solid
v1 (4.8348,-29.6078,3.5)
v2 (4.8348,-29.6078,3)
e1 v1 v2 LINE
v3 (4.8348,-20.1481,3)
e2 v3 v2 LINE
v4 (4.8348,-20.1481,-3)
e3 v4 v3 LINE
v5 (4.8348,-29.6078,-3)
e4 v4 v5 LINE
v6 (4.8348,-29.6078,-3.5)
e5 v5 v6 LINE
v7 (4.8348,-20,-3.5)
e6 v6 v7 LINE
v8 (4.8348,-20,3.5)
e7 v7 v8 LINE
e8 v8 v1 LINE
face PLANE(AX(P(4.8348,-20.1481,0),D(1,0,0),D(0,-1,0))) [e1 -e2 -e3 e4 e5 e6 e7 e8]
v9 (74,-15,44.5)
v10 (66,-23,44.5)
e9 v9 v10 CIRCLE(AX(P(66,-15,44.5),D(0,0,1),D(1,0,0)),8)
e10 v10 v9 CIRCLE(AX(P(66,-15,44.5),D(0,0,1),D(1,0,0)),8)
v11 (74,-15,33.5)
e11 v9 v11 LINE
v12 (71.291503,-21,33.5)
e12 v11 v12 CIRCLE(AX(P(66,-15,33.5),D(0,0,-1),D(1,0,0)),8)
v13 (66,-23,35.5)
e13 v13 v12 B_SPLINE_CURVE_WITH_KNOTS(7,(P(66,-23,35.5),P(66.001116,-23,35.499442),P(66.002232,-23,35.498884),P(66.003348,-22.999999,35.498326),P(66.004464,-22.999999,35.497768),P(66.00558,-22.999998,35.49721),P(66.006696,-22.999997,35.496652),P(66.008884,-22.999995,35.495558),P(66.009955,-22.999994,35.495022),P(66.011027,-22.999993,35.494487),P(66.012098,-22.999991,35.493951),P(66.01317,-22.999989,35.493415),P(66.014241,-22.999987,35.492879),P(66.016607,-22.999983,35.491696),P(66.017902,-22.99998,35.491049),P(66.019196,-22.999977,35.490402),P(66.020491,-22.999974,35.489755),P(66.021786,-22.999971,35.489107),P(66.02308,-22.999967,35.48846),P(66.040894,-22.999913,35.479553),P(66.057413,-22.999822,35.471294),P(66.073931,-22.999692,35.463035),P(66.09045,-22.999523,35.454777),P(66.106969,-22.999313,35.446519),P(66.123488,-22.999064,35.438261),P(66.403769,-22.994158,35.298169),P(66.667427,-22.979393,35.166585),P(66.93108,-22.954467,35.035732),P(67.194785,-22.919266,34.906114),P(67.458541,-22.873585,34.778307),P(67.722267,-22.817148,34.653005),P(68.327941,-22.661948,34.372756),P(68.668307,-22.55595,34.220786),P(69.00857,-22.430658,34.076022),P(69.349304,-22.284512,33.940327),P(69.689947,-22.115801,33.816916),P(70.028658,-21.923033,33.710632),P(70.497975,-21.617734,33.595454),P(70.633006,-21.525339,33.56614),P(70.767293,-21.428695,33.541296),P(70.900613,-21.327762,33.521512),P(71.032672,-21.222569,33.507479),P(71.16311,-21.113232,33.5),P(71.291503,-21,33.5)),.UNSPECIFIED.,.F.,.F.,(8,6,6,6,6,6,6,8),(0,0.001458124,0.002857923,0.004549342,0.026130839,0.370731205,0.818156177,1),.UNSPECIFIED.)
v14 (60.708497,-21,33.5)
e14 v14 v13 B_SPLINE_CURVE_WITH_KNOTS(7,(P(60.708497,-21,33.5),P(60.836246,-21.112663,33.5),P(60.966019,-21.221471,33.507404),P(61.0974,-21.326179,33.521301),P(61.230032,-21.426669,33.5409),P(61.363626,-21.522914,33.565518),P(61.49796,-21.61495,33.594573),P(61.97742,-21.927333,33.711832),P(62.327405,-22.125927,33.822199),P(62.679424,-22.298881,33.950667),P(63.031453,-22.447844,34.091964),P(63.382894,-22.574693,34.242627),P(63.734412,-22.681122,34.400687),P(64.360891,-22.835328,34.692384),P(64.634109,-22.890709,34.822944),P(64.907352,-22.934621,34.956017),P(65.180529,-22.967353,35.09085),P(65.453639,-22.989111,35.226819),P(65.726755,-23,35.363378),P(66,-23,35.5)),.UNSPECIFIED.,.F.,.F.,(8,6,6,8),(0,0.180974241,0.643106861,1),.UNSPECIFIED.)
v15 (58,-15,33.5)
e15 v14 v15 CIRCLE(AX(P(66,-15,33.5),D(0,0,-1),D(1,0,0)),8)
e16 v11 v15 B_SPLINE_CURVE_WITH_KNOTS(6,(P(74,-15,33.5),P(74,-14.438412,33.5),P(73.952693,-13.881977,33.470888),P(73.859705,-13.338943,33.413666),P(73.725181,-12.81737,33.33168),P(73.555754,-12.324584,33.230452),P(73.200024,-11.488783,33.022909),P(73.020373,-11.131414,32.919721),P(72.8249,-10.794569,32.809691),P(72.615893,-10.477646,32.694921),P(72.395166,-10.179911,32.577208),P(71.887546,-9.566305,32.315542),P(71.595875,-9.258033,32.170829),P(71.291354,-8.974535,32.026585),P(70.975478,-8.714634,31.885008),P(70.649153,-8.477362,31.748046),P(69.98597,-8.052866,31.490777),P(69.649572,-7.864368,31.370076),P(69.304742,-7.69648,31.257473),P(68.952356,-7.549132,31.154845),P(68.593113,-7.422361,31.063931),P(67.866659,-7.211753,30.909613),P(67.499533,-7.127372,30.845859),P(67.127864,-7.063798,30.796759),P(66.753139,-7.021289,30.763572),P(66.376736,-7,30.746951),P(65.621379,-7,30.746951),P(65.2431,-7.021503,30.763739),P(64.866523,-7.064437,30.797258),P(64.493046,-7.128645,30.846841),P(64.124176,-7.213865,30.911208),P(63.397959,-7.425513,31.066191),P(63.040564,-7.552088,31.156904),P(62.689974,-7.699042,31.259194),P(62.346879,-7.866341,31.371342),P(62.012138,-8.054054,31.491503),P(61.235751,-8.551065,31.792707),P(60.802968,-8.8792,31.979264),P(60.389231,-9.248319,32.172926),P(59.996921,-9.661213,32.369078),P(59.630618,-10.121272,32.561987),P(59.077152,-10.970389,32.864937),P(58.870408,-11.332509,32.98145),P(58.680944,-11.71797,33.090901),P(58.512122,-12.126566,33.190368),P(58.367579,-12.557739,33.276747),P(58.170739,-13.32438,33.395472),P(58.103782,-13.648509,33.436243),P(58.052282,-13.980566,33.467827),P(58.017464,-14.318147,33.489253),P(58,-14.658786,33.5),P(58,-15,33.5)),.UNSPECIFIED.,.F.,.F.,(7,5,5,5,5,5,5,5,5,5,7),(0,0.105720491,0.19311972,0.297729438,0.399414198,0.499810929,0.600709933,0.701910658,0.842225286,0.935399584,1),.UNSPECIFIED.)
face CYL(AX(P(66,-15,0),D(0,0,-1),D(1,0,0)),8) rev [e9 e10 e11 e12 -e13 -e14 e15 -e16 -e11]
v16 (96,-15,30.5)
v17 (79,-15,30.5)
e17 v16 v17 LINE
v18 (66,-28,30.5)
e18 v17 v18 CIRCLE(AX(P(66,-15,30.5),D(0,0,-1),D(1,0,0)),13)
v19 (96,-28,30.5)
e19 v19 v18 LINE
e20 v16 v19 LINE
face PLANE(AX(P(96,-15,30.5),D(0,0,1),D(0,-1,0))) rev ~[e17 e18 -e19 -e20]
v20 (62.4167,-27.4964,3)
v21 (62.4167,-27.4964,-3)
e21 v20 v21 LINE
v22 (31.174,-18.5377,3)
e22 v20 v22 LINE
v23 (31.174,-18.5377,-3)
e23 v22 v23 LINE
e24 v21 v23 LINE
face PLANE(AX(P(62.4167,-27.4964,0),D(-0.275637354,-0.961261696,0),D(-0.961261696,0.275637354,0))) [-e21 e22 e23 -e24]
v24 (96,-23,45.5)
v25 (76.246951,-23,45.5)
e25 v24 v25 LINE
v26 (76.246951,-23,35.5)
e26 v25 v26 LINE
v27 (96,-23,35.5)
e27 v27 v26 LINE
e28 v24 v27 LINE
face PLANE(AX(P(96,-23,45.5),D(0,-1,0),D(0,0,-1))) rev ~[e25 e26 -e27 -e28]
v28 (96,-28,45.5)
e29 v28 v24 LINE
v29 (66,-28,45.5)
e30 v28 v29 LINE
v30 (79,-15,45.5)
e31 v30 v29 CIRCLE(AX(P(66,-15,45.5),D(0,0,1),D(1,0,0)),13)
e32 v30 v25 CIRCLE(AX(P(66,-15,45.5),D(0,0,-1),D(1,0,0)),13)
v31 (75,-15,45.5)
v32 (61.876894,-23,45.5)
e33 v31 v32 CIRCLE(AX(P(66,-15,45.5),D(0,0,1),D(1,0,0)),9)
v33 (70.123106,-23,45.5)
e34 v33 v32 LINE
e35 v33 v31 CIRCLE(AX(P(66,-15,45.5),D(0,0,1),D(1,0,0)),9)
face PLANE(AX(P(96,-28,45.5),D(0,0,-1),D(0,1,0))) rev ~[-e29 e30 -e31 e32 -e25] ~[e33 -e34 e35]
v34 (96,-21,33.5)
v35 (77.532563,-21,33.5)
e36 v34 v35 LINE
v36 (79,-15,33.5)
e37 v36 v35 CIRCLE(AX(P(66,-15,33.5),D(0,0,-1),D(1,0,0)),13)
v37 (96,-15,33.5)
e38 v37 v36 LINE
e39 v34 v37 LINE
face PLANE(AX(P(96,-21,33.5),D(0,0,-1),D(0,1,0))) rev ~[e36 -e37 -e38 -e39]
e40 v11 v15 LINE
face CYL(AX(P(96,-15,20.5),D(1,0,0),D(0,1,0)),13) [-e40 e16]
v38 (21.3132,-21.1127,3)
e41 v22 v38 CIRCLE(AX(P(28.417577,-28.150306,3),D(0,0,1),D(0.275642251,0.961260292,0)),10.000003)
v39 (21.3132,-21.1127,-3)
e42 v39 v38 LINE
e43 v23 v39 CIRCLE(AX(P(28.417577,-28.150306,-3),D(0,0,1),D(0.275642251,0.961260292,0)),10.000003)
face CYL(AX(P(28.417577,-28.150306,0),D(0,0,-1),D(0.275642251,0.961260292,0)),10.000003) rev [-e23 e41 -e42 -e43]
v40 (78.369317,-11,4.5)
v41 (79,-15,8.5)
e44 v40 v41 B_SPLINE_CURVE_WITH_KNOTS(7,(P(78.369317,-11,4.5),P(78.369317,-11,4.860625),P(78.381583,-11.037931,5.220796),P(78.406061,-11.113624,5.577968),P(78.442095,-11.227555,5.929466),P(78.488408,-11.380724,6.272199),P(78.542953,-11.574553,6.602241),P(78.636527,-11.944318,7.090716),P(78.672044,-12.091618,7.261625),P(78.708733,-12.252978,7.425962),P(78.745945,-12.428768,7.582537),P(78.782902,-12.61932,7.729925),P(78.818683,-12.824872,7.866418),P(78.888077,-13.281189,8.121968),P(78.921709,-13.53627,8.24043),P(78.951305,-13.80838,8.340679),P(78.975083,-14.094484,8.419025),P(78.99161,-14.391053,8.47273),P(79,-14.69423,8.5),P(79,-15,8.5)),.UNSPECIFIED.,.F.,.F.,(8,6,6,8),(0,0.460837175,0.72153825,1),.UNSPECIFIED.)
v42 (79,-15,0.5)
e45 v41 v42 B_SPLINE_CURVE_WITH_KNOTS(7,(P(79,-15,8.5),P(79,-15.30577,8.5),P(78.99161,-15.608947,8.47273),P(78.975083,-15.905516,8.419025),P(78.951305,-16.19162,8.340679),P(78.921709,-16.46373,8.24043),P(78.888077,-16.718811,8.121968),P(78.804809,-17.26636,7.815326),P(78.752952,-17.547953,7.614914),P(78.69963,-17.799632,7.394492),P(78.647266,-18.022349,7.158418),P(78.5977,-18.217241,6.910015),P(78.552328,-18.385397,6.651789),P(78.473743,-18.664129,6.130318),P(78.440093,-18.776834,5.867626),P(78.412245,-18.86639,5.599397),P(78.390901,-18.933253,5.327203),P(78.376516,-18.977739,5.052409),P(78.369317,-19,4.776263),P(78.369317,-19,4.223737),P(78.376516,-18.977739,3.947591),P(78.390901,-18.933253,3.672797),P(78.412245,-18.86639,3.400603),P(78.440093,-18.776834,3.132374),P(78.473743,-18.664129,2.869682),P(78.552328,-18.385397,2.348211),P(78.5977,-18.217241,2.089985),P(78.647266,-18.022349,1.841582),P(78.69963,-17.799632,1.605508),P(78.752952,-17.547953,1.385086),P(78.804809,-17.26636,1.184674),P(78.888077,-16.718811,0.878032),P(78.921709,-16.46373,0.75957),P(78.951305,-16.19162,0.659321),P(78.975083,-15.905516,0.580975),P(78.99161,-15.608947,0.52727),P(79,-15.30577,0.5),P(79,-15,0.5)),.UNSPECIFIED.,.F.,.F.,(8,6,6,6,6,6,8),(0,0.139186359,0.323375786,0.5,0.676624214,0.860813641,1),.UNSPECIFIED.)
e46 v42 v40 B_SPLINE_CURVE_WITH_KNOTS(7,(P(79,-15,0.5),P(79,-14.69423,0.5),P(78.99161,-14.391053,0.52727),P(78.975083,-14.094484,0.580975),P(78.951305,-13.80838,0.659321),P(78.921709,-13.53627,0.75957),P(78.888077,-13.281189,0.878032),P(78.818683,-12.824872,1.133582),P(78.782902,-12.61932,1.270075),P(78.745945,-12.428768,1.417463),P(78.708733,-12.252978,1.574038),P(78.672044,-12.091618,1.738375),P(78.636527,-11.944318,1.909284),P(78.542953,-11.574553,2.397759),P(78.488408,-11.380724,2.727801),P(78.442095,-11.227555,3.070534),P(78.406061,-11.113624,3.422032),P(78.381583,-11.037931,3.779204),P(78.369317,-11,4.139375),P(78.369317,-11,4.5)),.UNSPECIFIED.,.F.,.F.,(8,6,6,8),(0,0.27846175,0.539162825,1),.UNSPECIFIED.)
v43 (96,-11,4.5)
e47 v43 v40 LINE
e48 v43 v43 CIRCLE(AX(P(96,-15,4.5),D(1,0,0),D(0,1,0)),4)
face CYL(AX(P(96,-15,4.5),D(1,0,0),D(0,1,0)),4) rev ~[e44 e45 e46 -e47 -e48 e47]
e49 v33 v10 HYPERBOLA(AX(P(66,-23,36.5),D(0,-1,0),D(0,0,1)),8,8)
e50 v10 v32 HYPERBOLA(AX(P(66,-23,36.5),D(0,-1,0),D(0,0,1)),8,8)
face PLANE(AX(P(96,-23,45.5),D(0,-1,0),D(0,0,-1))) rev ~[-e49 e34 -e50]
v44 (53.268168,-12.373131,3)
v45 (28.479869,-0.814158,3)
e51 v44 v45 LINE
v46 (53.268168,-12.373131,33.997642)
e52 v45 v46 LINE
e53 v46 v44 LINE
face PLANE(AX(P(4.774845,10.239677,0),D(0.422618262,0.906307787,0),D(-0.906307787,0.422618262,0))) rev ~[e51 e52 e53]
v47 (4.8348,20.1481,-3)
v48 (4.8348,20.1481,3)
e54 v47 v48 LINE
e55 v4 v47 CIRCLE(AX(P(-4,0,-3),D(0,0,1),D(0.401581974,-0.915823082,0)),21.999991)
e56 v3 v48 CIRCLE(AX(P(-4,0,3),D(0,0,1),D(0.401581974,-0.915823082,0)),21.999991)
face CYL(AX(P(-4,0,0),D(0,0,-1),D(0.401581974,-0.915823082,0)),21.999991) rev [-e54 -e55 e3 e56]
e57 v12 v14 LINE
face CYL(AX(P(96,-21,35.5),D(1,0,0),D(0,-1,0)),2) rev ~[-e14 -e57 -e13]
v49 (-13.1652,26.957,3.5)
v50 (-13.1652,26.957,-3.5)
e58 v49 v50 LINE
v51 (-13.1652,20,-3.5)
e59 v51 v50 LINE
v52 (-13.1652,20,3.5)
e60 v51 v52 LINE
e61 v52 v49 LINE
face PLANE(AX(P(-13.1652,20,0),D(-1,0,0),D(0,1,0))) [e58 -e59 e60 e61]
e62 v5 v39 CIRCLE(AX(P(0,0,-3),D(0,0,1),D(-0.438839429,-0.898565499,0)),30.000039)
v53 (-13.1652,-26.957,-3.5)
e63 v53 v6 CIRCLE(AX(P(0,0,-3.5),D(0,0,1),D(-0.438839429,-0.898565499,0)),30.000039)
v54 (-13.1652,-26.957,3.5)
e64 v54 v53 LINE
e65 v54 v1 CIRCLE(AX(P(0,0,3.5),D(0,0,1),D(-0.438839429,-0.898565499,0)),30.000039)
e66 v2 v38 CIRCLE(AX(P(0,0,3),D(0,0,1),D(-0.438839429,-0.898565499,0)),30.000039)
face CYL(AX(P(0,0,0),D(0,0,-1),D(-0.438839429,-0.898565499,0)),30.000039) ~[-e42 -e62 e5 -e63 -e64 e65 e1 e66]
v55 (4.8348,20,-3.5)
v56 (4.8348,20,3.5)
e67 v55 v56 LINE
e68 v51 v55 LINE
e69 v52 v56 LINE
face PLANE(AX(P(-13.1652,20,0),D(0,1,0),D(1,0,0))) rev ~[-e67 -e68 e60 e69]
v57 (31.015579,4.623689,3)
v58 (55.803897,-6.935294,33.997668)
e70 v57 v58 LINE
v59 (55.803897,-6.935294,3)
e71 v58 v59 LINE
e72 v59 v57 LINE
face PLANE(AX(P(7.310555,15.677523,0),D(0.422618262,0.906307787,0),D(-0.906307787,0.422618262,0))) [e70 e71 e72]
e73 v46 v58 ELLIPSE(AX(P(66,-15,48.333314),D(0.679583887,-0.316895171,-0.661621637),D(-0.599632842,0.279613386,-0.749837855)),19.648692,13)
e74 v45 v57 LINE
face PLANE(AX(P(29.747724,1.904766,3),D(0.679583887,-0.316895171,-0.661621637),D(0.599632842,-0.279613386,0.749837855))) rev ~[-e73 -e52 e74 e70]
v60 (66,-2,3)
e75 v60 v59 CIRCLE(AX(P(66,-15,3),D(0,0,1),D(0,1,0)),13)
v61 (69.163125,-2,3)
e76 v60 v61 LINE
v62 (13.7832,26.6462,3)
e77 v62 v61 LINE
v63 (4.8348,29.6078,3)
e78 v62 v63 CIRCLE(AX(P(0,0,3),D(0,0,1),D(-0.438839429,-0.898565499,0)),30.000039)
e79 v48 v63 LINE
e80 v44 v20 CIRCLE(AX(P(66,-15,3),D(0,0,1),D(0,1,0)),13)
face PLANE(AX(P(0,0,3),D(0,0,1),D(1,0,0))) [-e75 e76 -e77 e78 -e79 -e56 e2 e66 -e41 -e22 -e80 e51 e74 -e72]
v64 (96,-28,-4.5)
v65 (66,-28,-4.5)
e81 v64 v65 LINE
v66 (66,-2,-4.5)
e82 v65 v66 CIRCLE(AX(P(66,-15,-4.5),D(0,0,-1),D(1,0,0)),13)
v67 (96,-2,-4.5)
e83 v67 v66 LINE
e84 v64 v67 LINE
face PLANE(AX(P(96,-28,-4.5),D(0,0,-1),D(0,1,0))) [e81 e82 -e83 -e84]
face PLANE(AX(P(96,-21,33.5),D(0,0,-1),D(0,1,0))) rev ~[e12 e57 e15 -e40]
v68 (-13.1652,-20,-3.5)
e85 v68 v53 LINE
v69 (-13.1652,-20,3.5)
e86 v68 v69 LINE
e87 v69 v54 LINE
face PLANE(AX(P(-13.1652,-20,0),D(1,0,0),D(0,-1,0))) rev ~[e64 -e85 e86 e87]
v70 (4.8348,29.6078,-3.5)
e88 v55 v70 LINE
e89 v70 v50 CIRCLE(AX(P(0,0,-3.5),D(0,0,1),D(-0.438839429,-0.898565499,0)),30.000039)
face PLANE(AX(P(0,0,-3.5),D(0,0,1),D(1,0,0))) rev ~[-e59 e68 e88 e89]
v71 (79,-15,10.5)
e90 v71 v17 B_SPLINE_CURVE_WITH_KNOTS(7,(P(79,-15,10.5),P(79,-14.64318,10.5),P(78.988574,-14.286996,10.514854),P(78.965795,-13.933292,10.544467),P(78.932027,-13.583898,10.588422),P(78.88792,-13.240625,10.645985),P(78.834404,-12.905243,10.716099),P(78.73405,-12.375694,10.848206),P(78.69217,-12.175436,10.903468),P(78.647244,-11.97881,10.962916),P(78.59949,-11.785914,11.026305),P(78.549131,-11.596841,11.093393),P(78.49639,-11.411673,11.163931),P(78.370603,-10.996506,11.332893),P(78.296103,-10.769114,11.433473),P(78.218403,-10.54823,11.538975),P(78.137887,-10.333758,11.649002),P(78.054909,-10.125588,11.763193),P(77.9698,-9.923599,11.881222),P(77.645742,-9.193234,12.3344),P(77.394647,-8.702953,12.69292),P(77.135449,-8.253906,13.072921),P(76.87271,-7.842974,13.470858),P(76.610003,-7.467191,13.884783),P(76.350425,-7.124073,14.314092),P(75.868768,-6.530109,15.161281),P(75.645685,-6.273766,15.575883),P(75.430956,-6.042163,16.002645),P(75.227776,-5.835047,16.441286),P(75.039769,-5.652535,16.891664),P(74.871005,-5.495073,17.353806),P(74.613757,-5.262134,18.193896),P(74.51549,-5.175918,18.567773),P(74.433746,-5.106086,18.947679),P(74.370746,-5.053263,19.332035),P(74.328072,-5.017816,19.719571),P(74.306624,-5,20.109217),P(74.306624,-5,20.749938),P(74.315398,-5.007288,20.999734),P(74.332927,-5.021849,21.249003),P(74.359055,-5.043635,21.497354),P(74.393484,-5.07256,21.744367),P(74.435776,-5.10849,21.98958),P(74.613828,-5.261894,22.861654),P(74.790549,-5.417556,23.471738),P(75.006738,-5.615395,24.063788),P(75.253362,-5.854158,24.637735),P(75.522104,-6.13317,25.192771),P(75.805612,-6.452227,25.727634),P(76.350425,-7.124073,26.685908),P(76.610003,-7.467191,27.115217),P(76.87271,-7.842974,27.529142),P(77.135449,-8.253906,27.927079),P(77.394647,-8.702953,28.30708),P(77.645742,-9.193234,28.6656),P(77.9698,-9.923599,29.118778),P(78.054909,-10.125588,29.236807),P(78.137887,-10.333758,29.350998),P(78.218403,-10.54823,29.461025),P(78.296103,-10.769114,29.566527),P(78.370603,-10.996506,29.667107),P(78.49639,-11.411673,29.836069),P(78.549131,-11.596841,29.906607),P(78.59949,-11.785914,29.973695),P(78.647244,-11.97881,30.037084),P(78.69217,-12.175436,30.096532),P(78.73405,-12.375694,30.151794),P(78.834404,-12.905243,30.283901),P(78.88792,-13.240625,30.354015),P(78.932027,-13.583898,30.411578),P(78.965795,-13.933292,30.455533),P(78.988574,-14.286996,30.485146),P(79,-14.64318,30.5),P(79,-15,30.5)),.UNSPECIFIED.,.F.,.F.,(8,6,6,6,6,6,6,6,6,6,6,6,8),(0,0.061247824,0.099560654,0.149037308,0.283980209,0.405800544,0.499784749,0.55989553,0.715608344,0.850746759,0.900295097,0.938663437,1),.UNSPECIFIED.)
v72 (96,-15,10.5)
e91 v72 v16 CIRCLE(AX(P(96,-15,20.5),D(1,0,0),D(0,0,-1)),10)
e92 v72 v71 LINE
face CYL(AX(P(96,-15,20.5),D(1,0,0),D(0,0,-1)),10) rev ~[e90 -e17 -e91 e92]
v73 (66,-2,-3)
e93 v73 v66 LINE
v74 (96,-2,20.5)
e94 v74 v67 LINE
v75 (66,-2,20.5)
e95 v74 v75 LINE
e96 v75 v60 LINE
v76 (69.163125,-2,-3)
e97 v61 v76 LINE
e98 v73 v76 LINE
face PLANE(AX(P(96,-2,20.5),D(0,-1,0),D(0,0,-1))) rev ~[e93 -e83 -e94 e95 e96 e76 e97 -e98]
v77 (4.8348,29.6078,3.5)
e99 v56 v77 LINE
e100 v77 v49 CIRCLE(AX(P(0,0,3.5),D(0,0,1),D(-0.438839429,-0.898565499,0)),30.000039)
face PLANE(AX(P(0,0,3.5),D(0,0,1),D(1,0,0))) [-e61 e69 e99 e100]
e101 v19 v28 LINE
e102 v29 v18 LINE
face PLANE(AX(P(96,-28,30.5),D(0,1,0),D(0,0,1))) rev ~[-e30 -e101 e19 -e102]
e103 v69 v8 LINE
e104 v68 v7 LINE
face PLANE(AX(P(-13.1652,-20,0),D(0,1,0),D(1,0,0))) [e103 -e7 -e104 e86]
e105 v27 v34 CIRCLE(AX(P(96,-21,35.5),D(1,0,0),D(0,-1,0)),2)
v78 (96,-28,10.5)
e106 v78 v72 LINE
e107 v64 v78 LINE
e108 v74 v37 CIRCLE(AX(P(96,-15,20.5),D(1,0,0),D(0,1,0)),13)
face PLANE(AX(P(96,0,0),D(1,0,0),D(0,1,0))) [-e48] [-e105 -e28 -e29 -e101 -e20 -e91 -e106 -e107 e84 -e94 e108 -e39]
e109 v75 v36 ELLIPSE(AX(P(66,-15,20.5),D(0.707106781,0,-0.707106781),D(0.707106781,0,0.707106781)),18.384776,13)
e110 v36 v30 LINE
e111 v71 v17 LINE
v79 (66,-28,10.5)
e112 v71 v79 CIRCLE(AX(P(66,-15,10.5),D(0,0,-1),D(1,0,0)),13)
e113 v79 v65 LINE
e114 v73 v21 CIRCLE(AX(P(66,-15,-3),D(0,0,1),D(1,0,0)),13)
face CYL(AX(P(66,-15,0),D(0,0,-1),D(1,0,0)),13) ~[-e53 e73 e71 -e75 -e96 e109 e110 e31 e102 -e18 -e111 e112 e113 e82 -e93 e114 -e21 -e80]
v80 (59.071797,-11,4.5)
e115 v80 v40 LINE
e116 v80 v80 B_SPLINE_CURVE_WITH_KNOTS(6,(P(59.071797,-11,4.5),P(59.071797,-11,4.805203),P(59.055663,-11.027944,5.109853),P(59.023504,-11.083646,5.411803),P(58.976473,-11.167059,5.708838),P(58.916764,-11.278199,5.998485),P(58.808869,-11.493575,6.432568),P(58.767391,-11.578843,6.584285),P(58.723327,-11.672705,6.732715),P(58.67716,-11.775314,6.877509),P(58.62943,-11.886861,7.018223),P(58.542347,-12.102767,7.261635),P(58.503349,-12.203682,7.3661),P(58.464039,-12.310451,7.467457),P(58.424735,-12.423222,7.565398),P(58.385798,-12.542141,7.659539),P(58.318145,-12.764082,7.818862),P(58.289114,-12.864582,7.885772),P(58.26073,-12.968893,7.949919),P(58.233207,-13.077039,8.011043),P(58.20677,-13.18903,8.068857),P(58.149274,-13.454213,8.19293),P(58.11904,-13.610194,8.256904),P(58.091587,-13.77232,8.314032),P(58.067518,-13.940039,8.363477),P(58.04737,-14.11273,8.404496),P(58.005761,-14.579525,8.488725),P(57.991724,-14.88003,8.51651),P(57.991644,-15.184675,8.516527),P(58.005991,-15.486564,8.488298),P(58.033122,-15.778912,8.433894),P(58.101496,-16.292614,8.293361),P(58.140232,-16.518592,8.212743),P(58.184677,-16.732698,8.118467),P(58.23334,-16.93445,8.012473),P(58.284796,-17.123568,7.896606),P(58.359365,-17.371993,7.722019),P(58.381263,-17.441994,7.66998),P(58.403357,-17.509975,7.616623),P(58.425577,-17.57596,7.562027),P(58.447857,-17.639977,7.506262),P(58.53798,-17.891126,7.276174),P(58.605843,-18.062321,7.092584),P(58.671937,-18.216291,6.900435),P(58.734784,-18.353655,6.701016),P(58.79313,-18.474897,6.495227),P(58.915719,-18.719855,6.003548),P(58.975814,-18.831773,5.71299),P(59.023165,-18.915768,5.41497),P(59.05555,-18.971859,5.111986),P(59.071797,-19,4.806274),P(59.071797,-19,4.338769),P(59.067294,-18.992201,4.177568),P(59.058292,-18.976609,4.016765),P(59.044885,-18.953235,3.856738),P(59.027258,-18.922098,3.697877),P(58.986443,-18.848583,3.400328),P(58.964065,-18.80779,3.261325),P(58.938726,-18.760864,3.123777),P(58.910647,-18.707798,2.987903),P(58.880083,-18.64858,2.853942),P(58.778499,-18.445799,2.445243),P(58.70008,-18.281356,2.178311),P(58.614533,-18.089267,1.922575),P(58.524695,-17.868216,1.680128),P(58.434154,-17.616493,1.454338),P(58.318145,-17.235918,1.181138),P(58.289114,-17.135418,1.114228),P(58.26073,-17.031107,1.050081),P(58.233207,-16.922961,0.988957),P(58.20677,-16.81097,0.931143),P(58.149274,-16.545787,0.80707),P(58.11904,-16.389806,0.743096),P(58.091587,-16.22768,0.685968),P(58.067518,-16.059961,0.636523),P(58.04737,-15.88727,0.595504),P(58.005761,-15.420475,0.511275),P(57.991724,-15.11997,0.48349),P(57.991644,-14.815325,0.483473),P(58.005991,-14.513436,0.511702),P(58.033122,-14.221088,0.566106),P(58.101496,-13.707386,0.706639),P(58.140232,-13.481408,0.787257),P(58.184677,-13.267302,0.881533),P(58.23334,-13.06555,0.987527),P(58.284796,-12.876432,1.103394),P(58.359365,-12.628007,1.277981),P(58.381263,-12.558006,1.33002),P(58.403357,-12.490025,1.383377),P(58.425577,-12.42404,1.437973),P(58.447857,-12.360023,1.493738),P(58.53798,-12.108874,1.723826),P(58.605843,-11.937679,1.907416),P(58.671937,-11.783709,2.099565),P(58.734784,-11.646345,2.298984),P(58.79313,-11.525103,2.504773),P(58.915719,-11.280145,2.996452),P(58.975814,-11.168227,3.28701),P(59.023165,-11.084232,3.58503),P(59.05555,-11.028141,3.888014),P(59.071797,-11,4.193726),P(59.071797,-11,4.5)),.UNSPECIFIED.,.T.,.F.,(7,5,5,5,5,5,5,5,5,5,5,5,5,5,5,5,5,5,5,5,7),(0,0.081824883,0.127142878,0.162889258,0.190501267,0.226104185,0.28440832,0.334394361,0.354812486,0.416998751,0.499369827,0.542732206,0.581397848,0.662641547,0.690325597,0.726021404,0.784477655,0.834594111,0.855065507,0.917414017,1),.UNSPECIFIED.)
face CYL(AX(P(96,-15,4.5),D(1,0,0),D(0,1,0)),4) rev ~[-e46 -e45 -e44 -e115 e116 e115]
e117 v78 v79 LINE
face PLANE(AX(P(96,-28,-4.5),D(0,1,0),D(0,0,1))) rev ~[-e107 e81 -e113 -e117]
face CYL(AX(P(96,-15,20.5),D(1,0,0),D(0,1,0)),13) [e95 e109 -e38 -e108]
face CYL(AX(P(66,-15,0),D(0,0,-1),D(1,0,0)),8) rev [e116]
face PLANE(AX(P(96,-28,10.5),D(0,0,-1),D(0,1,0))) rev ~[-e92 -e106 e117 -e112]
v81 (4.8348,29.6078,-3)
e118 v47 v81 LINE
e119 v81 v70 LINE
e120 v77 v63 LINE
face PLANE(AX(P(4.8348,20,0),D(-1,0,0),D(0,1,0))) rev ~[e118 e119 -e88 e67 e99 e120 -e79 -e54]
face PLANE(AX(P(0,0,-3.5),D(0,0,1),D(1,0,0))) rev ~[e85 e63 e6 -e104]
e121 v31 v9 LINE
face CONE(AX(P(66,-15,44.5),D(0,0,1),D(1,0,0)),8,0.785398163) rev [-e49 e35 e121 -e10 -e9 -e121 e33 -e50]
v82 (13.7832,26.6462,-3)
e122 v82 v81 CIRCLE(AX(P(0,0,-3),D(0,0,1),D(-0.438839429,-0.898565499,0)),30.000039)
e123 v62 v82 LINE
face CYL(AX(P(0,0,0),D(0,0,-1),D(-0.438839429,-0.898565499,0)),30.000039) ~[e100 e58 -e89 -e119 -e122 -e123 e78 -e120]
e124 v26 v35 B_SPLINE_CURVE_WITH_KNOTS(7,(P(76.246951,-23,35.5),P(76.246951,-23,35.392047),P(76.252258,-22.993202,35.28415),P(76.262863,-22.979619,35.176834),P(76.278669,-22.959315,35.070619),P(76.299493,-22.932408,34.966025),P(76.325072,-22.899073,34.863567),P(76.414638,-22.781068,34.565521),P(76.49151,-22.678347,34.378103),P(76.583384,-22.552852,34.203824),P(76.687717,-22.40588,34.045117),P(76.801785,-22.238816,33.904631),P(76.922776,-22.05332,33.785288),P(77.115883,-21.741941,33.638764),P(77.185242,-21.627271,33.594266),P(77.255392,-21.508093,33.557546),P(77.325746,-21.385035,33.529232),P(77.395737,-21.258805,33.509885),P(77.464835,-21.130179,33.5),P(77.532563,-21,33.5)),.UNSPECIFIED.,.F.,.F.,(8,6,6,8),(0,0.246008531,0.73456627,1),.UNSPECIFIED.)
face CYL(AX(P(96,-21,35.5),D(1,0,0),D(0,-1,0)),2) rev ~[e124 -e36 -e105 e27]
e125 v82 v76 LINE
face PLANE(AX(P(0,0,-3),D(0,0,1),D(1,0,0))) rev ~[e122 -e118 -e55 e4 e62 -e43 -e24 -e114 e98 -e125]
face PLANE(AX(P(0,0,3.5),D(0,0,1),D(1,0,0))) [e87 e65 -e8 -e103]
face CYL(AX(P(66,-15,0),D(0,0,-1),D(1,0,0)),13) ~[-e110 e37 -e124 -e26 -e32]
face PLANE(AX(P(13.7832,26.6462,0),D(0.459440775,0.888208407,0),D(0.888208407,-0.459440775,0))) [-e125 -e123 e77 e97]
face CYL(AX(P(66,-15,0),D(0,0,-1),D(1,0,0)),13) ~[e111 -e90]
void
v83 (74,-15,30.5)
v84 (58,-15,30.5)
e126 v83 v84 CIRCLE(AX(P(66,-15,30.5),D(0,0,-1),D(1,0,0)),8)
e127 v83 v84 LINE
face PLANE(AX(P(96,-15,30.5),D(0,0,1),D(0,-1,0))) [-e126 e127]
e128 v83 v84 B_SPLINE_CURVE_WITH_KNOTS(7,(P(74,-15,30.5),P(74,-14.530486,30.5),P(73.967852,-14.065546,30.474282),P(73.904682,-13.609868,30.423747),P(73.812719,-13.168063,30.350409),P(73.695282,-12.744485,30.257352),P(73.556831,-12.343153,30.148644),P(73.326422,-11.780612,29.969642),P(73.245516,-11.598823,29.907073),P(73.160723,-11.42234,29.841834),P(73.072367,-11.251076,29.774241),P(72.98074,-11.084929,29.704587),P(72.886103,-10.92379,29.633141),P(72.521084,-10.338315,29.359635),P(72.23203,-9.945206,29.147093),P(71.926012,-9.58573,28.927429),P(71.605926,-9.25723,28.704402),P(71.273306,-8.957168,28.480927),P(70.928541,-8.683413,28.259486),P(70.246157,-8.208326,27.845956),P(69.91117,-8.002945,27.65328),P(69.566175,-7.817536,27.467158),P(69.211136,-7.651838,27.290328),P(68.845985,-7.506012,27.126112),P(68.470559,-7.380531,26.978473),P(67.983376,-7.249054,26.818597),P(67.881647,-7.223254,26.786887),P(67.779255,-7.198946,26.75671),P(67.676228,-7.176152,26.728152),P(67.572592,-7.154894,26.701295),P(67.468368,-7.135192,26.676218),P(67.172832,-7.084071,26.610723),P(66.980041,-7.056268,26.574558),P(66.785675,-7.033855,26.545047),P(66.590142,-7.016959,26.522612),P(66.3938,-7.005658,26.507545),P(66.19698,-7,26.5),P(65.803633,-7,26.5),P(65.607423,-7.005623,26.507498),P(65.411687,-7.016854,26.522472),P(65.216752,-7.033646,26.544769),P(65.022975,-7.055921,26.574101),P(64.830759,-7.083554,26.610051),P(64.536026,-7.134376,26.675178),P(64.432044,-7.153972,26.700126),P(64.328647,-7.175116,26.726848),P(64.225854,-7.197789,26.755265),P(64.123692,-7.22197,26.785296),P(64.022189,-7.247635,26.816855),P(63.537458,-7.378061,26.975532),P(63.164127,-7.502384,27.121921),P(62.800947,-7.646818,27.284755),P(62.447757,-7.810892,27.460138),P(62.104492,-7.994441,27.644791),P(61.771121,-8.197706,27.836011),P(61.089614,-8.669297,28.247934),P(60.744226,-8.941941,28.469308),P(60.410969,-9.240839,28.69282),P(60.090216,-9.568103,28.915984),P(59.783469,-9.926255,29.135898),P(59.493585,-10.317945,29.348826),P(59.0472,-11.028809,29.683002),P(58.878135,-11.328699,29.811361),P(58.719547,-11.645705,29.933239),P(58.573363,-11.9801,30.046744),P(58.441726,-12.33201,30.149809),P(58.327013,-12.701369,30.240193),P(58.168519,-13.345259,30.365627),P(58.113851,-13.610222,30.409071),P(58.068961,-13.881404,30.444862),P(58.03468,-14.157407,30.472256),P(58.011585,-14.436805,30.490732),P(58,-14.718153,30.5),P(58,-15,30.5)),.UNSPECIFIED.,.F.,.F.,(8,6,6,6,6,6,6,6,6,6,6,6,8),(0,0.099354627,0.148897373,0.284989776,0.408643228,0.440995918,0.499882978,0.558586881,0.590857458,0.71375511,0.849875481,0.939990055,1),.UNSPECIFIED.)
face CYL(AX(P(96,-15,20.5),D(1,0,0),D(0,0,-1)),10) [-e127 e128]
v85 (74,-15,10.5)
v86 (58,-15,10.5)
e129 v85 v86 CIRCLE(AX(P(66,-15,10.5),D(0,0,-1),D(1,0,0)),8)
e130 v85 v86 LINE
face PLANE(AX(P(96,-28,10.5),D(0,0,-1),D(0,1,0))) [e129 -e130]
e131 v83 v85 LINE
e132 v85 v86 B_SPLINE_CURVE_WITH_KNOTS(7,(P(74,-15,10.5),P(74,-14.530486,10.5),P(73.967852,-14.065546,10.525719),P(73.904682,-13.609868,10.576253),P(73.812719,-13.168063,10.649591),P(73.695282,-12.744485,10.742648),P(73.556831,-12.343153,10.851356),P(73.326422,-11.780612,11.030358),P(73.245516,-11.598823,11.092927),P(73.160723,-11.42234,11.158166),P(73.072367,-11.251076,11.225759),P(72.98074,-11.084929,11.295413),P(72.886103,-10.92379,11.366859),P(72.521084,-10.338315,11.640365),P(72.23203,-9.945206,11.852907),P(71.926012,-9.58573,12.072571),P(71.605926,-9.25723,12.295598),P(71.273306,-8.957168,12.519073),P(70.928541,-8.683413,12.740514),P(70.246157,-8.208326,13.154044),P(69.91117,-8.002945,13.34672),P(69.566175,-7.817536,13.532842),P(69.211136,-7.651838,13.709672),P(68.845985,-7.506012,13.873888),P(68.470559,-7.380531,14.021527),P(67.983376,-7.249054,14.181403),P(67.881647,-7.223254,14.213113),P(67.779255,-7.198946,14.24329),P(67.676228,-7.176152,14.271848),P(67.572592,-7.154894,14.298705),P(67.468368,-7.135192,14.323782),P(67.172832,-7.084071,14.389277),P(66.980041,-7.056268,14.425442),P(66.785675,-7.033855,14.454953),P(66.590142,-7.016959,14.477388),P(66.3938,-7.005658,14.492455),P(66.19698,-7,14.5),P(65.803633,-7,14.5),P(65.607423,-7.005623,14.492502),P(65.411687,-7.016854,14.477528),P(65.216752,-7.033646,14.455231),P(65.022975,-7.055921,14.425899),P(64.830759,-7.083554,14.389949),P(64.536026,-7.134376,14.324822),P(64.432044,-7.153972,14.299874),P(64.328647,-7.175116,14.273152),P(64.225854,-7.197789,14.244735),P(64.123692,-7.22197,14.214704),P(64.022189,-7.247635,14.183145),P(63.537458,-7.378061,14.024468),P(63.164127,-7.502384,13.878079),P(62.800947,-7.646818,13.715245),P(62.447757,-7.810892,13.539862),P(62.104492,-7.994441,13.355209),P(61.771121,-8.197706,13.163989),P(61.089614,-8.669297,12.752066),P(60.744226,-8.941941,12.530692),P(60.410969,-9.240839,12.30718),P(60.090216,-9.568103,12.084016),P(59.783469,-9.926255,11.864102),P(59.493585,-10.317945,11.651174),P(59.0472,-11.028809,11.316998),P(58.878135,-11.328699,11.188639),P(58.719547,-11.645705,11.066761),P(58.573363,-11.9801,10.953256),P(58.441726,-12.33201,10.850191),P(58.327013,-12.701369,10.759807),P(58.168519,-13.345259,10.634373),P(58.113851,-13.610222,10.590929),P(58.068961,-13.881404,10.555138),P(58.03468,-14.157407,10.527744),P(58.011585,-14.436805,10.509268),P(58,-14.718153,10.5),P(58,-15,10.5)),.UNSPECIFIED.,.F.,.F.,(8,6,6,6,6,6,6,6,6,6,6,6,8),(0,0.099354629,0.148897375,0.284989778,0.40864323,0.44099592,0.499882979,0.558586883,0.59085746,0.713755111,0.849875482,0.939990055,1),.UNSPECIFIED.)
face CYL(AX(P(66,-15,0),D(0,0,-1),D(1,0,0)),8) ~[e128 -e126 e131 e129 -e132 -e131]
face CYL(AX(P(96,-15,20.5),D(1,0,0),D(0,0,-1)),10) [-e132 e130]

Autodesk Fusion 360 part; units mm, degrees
sketch "草图1" plane through (0, 0, 0) normal (0, 0, 1) x (1, 0, 0)
  line L0 (-13.1652, 20) -> (4.8348, 20)
  line L1 (-13.1652, -20) -> (4.8348, -20)
  line L2 (-40, 0) -> (55, 0) construction
  line L3 (-13.1652, 20) -> (-13.1652, 26.957)
  line L4 (-13.1652, -20) -> (-13.1652, -26.957)
  line L5 (-13.1652, -20) -> (4.8348, -20)
  line L6 (4.8348, -20) -> (4.8348, -29.6078)
  line L7 (4.8348, 20) -> (4.8348, 29.6078)
  arc A0 (-13.1652, -26.957) -> (-13.1652, 26.957) centre (0, 0) ccw
  arc A1 (4.8348, -20.1481) -> (4.8348, 20.1481) centre (-4, 0) ccw
  line L8 (13.7832, 26.6462) -> (71.9727, -3.4533)
  line L9 (62.4167, -27.4964) -> (31.174, -18.5377)
  arc A2 (31.174, -18.5377) -> (21.3132, -21.1127) centre (28.4176, -28.1503) ccw
  circle A3 centre (66, -15) radius 13
  circle A4 centre (66, -15) radius 8
  point P0 (66, -15)
  dimension "d5" = 60
  dimension "d6" = 44
  dimension "d7" = 4
  dimension "d8" = 20
  dimension "d9" = 40
  dimension "d10" = 18
  dimension "d11" = 18
  dimension "d13" = 15
  dimension "d14" = 10
  dimension "d16" = 70
  dimension "d17" = 26
  dimension "d18" = 16
  dimension "d19" = 16
extrude "拉伸1" add sketch "草图1" along normal mid plane 7 contours L0 L3 L7 A0 | L1 L4 L5 L6 A0 makes body 1 at (-4.8402, -23.1181, 3.5) makes body 2 at (-4.8402, 23.1181, 3.5)
extrude "拉伸2" add sketch "草图1" along normal mid plane 6 contours L6 L7 A0 A1 | A0 L8 L9 A2 A3 bodies 1 2
extrude "拉伸3" add sketch "草图1" along normal blind 45.5 and the other way blind 4.5 contours A3 bodies 1
chamfer "倒角1" distance 1 angle 45 1 edges at (58.5414, -12.1071, 45.5) measured on face at (77.2551, -13.9567, 45.5) on bodies 1
ref_plane "工作平面1" through (66, 0, 0) normal (1, 0, 0) x (0, 1, 0)
sketch "草图2" plane through (66, 0, 0) normal (1, 0, 0) x (0, 1, 0)
  line L0 (-28, -4.5) -> (-2, -4.5)
  line L1 (-2, 45.5) -> (-28, 45.5)
  line L2 (-28, 45.5) -> (-23, 45.5)
  line L3 (-23, 45.5) -> (-23, 35.5)
  arc A0 (-23, 35.5) -> (-21, 33.5) centre (-21, 35.5) ccw
  line L4 (-21, 33.5) -> (-15, 33.5)
  arc A1 (-2, 20.5) -> (-15, 33.5) centre (-15, 20.5) ccw
  line L5 (-2, 20.5) -> (-2, -4.5)
  line L6 (-28, -4.5) -> (-28, 10.5)
  line L7 (-28, 10.5) -> (-15, 10.5)
  arc A2 (-15, 10.5) -> (-15, 30.5) centre (-15, 20.5) ccw
  line L8 (-15, 30.5) -> (-28, 30.5)
  line L9 (-28, 30.5) -> (-28, 45.5)
  circle A3 centre (-15, 4.5) radius 4
  point P0 (-15, 45.5)
  point P1 (-15, -4.5)
  dimension "d31" = 5
  dimension "d32" = 2
  dimension "d33" = 10
  dimension "d34" = 13
  dimension "d35" = 25
  dimension "d36" = 8
  dimension "d37" = 9
ref_plane "工作平面2" through (96, 0, 0) normal (1, 0, 0) x (0, 1, 0)
sketch "草图3" plane through (96, 0, 0) normal (1, 0, 0) x (0, 1, 0)
  line L0 (-28, -4.5) -> (-28, 10.5)
  line L1 (-28, 10.5) -> (-15, 10.5)
  arc A0 (-15, 10.5) -> (-15, 30.5) centre (-15, 20.5) ccw
  line L2 (-15, 30.5) -> (-28, 30.5)
  line L3 (-28, 45.5) -> (-23, 45.5)
  arc A1 (-23, 35.5) -> (-21, 33.5) centre (-21, 35.5) ccw
  line L4 (-21, 33.5) -> (-15, 33.5)
  arc A2 (-2, 20.5) -> (-15, 33.5) centre (-15, 20.5) ccw
  line L5 (-2, 20.5) -> (-2, -4.5)
  line L6 (-23, 45.5) -> (-23, 35.5)
  line L7 (-28, -4.5) -> (-2, -4.5)
  circle A3 centre (-15, 4.5) radius 4
  line L8 (-28, 30.5) -> (-28, 45.5)
extrude "拉伸4" add sketch "草图3" along normal up to surface end surface at (64.148, -27.8674, 14.6667) on bodies 1 bodies 1
extrude "拉伸5" cut sketch "草图3" along normal up to surface contours A3 end surface at (66.8152, -22.9584, 38.2852) on bodies 1 bodies 1
sketch "草图4" plane through (0, 0, 3) normal (0, 0, 1) x (-1, 0, 0)
  line L0 (-66, 2) -> (-69.1632, 2)
  line L1 (-69.1632, 2) -> (-13.7832, -26.6462)
  arc A0 (-13.7832, -26.6462) -> (-4.8348, -29.6078) centre (0, 0) ccw
  line L2 (-4.8348, -29.6078) -> (-4.8348, -20.1481)
  arc A1 (-4.8348, 20.1481) -> (-4.8348, -20.1481) centre (4, 0) ccw
  line L3 (-4.8348, 20.1481) -> (-4.8348, 29.6078)
  arc A2 (-4.8348, 29.6078) -> (-21.3132, 21.1127) centre (0, 0) ccw
  arc A3 (-31.174, 18.5377) -> (-21.3132, 21.1127) centre (-28.4176, 28.1503) ccw
  line L4 (-31.174, 18.5377) -> (-62.4167, 27.4964)
  arc A4 (-66, 2) -> (-62.4167, 27.4964) centre (-66, 15) ccw
  line L5 (-66, 15) -> (-28.1042, -2.6711)
  line L6 (0, 0) -> (-100, 0) construction
  dimension "d43" = 25
sketch "草图5" plane through (0, 0, 45.5) normal (0, 0, 1) x (-1, 0, 0)
  arc A0 (-76.247, 23) -> (-66, 28) centre (-66, 15) ccw
  line L0 (-66, 28) -> (-96, 28)
  line L1 (-96, 28) -> (-96, 23)
  line L2 (-96, 23) -> (-76.247, 23)
  circle A1 centre (-66, 15) radius 9
  point P0 (-66, 15)
ref_plane "工作平面3" through (66, -15, 45.5) normal (0.4226, 0.9063, 0) x (-0.9063, 0.4226, 0)
sketch "草图6" plane through (6.0427, 12.9586, 0) normal (0.4226, 0.9063, 0) x (-0.9063, 0.4226, 0)
  line L0 (-26.1556, 3) -> (-56.1556, 37)
  line L1 (-56.1556, 37) -> (-56.1556, 3)
  line L2 (-56.1556, 3) -> (-26.1556, 3)
  point P0 (-66.1556, 45.5)
  point P1 (-66.1556, 3)
  point P2 (-24.3421, 3)
  dimension "d44" = 40
  dimension "d45" = 34
  dimension "d46" = 30
extrude "拉伸6" add sketch "草图6" along normal mid plane 6 bodies 1
